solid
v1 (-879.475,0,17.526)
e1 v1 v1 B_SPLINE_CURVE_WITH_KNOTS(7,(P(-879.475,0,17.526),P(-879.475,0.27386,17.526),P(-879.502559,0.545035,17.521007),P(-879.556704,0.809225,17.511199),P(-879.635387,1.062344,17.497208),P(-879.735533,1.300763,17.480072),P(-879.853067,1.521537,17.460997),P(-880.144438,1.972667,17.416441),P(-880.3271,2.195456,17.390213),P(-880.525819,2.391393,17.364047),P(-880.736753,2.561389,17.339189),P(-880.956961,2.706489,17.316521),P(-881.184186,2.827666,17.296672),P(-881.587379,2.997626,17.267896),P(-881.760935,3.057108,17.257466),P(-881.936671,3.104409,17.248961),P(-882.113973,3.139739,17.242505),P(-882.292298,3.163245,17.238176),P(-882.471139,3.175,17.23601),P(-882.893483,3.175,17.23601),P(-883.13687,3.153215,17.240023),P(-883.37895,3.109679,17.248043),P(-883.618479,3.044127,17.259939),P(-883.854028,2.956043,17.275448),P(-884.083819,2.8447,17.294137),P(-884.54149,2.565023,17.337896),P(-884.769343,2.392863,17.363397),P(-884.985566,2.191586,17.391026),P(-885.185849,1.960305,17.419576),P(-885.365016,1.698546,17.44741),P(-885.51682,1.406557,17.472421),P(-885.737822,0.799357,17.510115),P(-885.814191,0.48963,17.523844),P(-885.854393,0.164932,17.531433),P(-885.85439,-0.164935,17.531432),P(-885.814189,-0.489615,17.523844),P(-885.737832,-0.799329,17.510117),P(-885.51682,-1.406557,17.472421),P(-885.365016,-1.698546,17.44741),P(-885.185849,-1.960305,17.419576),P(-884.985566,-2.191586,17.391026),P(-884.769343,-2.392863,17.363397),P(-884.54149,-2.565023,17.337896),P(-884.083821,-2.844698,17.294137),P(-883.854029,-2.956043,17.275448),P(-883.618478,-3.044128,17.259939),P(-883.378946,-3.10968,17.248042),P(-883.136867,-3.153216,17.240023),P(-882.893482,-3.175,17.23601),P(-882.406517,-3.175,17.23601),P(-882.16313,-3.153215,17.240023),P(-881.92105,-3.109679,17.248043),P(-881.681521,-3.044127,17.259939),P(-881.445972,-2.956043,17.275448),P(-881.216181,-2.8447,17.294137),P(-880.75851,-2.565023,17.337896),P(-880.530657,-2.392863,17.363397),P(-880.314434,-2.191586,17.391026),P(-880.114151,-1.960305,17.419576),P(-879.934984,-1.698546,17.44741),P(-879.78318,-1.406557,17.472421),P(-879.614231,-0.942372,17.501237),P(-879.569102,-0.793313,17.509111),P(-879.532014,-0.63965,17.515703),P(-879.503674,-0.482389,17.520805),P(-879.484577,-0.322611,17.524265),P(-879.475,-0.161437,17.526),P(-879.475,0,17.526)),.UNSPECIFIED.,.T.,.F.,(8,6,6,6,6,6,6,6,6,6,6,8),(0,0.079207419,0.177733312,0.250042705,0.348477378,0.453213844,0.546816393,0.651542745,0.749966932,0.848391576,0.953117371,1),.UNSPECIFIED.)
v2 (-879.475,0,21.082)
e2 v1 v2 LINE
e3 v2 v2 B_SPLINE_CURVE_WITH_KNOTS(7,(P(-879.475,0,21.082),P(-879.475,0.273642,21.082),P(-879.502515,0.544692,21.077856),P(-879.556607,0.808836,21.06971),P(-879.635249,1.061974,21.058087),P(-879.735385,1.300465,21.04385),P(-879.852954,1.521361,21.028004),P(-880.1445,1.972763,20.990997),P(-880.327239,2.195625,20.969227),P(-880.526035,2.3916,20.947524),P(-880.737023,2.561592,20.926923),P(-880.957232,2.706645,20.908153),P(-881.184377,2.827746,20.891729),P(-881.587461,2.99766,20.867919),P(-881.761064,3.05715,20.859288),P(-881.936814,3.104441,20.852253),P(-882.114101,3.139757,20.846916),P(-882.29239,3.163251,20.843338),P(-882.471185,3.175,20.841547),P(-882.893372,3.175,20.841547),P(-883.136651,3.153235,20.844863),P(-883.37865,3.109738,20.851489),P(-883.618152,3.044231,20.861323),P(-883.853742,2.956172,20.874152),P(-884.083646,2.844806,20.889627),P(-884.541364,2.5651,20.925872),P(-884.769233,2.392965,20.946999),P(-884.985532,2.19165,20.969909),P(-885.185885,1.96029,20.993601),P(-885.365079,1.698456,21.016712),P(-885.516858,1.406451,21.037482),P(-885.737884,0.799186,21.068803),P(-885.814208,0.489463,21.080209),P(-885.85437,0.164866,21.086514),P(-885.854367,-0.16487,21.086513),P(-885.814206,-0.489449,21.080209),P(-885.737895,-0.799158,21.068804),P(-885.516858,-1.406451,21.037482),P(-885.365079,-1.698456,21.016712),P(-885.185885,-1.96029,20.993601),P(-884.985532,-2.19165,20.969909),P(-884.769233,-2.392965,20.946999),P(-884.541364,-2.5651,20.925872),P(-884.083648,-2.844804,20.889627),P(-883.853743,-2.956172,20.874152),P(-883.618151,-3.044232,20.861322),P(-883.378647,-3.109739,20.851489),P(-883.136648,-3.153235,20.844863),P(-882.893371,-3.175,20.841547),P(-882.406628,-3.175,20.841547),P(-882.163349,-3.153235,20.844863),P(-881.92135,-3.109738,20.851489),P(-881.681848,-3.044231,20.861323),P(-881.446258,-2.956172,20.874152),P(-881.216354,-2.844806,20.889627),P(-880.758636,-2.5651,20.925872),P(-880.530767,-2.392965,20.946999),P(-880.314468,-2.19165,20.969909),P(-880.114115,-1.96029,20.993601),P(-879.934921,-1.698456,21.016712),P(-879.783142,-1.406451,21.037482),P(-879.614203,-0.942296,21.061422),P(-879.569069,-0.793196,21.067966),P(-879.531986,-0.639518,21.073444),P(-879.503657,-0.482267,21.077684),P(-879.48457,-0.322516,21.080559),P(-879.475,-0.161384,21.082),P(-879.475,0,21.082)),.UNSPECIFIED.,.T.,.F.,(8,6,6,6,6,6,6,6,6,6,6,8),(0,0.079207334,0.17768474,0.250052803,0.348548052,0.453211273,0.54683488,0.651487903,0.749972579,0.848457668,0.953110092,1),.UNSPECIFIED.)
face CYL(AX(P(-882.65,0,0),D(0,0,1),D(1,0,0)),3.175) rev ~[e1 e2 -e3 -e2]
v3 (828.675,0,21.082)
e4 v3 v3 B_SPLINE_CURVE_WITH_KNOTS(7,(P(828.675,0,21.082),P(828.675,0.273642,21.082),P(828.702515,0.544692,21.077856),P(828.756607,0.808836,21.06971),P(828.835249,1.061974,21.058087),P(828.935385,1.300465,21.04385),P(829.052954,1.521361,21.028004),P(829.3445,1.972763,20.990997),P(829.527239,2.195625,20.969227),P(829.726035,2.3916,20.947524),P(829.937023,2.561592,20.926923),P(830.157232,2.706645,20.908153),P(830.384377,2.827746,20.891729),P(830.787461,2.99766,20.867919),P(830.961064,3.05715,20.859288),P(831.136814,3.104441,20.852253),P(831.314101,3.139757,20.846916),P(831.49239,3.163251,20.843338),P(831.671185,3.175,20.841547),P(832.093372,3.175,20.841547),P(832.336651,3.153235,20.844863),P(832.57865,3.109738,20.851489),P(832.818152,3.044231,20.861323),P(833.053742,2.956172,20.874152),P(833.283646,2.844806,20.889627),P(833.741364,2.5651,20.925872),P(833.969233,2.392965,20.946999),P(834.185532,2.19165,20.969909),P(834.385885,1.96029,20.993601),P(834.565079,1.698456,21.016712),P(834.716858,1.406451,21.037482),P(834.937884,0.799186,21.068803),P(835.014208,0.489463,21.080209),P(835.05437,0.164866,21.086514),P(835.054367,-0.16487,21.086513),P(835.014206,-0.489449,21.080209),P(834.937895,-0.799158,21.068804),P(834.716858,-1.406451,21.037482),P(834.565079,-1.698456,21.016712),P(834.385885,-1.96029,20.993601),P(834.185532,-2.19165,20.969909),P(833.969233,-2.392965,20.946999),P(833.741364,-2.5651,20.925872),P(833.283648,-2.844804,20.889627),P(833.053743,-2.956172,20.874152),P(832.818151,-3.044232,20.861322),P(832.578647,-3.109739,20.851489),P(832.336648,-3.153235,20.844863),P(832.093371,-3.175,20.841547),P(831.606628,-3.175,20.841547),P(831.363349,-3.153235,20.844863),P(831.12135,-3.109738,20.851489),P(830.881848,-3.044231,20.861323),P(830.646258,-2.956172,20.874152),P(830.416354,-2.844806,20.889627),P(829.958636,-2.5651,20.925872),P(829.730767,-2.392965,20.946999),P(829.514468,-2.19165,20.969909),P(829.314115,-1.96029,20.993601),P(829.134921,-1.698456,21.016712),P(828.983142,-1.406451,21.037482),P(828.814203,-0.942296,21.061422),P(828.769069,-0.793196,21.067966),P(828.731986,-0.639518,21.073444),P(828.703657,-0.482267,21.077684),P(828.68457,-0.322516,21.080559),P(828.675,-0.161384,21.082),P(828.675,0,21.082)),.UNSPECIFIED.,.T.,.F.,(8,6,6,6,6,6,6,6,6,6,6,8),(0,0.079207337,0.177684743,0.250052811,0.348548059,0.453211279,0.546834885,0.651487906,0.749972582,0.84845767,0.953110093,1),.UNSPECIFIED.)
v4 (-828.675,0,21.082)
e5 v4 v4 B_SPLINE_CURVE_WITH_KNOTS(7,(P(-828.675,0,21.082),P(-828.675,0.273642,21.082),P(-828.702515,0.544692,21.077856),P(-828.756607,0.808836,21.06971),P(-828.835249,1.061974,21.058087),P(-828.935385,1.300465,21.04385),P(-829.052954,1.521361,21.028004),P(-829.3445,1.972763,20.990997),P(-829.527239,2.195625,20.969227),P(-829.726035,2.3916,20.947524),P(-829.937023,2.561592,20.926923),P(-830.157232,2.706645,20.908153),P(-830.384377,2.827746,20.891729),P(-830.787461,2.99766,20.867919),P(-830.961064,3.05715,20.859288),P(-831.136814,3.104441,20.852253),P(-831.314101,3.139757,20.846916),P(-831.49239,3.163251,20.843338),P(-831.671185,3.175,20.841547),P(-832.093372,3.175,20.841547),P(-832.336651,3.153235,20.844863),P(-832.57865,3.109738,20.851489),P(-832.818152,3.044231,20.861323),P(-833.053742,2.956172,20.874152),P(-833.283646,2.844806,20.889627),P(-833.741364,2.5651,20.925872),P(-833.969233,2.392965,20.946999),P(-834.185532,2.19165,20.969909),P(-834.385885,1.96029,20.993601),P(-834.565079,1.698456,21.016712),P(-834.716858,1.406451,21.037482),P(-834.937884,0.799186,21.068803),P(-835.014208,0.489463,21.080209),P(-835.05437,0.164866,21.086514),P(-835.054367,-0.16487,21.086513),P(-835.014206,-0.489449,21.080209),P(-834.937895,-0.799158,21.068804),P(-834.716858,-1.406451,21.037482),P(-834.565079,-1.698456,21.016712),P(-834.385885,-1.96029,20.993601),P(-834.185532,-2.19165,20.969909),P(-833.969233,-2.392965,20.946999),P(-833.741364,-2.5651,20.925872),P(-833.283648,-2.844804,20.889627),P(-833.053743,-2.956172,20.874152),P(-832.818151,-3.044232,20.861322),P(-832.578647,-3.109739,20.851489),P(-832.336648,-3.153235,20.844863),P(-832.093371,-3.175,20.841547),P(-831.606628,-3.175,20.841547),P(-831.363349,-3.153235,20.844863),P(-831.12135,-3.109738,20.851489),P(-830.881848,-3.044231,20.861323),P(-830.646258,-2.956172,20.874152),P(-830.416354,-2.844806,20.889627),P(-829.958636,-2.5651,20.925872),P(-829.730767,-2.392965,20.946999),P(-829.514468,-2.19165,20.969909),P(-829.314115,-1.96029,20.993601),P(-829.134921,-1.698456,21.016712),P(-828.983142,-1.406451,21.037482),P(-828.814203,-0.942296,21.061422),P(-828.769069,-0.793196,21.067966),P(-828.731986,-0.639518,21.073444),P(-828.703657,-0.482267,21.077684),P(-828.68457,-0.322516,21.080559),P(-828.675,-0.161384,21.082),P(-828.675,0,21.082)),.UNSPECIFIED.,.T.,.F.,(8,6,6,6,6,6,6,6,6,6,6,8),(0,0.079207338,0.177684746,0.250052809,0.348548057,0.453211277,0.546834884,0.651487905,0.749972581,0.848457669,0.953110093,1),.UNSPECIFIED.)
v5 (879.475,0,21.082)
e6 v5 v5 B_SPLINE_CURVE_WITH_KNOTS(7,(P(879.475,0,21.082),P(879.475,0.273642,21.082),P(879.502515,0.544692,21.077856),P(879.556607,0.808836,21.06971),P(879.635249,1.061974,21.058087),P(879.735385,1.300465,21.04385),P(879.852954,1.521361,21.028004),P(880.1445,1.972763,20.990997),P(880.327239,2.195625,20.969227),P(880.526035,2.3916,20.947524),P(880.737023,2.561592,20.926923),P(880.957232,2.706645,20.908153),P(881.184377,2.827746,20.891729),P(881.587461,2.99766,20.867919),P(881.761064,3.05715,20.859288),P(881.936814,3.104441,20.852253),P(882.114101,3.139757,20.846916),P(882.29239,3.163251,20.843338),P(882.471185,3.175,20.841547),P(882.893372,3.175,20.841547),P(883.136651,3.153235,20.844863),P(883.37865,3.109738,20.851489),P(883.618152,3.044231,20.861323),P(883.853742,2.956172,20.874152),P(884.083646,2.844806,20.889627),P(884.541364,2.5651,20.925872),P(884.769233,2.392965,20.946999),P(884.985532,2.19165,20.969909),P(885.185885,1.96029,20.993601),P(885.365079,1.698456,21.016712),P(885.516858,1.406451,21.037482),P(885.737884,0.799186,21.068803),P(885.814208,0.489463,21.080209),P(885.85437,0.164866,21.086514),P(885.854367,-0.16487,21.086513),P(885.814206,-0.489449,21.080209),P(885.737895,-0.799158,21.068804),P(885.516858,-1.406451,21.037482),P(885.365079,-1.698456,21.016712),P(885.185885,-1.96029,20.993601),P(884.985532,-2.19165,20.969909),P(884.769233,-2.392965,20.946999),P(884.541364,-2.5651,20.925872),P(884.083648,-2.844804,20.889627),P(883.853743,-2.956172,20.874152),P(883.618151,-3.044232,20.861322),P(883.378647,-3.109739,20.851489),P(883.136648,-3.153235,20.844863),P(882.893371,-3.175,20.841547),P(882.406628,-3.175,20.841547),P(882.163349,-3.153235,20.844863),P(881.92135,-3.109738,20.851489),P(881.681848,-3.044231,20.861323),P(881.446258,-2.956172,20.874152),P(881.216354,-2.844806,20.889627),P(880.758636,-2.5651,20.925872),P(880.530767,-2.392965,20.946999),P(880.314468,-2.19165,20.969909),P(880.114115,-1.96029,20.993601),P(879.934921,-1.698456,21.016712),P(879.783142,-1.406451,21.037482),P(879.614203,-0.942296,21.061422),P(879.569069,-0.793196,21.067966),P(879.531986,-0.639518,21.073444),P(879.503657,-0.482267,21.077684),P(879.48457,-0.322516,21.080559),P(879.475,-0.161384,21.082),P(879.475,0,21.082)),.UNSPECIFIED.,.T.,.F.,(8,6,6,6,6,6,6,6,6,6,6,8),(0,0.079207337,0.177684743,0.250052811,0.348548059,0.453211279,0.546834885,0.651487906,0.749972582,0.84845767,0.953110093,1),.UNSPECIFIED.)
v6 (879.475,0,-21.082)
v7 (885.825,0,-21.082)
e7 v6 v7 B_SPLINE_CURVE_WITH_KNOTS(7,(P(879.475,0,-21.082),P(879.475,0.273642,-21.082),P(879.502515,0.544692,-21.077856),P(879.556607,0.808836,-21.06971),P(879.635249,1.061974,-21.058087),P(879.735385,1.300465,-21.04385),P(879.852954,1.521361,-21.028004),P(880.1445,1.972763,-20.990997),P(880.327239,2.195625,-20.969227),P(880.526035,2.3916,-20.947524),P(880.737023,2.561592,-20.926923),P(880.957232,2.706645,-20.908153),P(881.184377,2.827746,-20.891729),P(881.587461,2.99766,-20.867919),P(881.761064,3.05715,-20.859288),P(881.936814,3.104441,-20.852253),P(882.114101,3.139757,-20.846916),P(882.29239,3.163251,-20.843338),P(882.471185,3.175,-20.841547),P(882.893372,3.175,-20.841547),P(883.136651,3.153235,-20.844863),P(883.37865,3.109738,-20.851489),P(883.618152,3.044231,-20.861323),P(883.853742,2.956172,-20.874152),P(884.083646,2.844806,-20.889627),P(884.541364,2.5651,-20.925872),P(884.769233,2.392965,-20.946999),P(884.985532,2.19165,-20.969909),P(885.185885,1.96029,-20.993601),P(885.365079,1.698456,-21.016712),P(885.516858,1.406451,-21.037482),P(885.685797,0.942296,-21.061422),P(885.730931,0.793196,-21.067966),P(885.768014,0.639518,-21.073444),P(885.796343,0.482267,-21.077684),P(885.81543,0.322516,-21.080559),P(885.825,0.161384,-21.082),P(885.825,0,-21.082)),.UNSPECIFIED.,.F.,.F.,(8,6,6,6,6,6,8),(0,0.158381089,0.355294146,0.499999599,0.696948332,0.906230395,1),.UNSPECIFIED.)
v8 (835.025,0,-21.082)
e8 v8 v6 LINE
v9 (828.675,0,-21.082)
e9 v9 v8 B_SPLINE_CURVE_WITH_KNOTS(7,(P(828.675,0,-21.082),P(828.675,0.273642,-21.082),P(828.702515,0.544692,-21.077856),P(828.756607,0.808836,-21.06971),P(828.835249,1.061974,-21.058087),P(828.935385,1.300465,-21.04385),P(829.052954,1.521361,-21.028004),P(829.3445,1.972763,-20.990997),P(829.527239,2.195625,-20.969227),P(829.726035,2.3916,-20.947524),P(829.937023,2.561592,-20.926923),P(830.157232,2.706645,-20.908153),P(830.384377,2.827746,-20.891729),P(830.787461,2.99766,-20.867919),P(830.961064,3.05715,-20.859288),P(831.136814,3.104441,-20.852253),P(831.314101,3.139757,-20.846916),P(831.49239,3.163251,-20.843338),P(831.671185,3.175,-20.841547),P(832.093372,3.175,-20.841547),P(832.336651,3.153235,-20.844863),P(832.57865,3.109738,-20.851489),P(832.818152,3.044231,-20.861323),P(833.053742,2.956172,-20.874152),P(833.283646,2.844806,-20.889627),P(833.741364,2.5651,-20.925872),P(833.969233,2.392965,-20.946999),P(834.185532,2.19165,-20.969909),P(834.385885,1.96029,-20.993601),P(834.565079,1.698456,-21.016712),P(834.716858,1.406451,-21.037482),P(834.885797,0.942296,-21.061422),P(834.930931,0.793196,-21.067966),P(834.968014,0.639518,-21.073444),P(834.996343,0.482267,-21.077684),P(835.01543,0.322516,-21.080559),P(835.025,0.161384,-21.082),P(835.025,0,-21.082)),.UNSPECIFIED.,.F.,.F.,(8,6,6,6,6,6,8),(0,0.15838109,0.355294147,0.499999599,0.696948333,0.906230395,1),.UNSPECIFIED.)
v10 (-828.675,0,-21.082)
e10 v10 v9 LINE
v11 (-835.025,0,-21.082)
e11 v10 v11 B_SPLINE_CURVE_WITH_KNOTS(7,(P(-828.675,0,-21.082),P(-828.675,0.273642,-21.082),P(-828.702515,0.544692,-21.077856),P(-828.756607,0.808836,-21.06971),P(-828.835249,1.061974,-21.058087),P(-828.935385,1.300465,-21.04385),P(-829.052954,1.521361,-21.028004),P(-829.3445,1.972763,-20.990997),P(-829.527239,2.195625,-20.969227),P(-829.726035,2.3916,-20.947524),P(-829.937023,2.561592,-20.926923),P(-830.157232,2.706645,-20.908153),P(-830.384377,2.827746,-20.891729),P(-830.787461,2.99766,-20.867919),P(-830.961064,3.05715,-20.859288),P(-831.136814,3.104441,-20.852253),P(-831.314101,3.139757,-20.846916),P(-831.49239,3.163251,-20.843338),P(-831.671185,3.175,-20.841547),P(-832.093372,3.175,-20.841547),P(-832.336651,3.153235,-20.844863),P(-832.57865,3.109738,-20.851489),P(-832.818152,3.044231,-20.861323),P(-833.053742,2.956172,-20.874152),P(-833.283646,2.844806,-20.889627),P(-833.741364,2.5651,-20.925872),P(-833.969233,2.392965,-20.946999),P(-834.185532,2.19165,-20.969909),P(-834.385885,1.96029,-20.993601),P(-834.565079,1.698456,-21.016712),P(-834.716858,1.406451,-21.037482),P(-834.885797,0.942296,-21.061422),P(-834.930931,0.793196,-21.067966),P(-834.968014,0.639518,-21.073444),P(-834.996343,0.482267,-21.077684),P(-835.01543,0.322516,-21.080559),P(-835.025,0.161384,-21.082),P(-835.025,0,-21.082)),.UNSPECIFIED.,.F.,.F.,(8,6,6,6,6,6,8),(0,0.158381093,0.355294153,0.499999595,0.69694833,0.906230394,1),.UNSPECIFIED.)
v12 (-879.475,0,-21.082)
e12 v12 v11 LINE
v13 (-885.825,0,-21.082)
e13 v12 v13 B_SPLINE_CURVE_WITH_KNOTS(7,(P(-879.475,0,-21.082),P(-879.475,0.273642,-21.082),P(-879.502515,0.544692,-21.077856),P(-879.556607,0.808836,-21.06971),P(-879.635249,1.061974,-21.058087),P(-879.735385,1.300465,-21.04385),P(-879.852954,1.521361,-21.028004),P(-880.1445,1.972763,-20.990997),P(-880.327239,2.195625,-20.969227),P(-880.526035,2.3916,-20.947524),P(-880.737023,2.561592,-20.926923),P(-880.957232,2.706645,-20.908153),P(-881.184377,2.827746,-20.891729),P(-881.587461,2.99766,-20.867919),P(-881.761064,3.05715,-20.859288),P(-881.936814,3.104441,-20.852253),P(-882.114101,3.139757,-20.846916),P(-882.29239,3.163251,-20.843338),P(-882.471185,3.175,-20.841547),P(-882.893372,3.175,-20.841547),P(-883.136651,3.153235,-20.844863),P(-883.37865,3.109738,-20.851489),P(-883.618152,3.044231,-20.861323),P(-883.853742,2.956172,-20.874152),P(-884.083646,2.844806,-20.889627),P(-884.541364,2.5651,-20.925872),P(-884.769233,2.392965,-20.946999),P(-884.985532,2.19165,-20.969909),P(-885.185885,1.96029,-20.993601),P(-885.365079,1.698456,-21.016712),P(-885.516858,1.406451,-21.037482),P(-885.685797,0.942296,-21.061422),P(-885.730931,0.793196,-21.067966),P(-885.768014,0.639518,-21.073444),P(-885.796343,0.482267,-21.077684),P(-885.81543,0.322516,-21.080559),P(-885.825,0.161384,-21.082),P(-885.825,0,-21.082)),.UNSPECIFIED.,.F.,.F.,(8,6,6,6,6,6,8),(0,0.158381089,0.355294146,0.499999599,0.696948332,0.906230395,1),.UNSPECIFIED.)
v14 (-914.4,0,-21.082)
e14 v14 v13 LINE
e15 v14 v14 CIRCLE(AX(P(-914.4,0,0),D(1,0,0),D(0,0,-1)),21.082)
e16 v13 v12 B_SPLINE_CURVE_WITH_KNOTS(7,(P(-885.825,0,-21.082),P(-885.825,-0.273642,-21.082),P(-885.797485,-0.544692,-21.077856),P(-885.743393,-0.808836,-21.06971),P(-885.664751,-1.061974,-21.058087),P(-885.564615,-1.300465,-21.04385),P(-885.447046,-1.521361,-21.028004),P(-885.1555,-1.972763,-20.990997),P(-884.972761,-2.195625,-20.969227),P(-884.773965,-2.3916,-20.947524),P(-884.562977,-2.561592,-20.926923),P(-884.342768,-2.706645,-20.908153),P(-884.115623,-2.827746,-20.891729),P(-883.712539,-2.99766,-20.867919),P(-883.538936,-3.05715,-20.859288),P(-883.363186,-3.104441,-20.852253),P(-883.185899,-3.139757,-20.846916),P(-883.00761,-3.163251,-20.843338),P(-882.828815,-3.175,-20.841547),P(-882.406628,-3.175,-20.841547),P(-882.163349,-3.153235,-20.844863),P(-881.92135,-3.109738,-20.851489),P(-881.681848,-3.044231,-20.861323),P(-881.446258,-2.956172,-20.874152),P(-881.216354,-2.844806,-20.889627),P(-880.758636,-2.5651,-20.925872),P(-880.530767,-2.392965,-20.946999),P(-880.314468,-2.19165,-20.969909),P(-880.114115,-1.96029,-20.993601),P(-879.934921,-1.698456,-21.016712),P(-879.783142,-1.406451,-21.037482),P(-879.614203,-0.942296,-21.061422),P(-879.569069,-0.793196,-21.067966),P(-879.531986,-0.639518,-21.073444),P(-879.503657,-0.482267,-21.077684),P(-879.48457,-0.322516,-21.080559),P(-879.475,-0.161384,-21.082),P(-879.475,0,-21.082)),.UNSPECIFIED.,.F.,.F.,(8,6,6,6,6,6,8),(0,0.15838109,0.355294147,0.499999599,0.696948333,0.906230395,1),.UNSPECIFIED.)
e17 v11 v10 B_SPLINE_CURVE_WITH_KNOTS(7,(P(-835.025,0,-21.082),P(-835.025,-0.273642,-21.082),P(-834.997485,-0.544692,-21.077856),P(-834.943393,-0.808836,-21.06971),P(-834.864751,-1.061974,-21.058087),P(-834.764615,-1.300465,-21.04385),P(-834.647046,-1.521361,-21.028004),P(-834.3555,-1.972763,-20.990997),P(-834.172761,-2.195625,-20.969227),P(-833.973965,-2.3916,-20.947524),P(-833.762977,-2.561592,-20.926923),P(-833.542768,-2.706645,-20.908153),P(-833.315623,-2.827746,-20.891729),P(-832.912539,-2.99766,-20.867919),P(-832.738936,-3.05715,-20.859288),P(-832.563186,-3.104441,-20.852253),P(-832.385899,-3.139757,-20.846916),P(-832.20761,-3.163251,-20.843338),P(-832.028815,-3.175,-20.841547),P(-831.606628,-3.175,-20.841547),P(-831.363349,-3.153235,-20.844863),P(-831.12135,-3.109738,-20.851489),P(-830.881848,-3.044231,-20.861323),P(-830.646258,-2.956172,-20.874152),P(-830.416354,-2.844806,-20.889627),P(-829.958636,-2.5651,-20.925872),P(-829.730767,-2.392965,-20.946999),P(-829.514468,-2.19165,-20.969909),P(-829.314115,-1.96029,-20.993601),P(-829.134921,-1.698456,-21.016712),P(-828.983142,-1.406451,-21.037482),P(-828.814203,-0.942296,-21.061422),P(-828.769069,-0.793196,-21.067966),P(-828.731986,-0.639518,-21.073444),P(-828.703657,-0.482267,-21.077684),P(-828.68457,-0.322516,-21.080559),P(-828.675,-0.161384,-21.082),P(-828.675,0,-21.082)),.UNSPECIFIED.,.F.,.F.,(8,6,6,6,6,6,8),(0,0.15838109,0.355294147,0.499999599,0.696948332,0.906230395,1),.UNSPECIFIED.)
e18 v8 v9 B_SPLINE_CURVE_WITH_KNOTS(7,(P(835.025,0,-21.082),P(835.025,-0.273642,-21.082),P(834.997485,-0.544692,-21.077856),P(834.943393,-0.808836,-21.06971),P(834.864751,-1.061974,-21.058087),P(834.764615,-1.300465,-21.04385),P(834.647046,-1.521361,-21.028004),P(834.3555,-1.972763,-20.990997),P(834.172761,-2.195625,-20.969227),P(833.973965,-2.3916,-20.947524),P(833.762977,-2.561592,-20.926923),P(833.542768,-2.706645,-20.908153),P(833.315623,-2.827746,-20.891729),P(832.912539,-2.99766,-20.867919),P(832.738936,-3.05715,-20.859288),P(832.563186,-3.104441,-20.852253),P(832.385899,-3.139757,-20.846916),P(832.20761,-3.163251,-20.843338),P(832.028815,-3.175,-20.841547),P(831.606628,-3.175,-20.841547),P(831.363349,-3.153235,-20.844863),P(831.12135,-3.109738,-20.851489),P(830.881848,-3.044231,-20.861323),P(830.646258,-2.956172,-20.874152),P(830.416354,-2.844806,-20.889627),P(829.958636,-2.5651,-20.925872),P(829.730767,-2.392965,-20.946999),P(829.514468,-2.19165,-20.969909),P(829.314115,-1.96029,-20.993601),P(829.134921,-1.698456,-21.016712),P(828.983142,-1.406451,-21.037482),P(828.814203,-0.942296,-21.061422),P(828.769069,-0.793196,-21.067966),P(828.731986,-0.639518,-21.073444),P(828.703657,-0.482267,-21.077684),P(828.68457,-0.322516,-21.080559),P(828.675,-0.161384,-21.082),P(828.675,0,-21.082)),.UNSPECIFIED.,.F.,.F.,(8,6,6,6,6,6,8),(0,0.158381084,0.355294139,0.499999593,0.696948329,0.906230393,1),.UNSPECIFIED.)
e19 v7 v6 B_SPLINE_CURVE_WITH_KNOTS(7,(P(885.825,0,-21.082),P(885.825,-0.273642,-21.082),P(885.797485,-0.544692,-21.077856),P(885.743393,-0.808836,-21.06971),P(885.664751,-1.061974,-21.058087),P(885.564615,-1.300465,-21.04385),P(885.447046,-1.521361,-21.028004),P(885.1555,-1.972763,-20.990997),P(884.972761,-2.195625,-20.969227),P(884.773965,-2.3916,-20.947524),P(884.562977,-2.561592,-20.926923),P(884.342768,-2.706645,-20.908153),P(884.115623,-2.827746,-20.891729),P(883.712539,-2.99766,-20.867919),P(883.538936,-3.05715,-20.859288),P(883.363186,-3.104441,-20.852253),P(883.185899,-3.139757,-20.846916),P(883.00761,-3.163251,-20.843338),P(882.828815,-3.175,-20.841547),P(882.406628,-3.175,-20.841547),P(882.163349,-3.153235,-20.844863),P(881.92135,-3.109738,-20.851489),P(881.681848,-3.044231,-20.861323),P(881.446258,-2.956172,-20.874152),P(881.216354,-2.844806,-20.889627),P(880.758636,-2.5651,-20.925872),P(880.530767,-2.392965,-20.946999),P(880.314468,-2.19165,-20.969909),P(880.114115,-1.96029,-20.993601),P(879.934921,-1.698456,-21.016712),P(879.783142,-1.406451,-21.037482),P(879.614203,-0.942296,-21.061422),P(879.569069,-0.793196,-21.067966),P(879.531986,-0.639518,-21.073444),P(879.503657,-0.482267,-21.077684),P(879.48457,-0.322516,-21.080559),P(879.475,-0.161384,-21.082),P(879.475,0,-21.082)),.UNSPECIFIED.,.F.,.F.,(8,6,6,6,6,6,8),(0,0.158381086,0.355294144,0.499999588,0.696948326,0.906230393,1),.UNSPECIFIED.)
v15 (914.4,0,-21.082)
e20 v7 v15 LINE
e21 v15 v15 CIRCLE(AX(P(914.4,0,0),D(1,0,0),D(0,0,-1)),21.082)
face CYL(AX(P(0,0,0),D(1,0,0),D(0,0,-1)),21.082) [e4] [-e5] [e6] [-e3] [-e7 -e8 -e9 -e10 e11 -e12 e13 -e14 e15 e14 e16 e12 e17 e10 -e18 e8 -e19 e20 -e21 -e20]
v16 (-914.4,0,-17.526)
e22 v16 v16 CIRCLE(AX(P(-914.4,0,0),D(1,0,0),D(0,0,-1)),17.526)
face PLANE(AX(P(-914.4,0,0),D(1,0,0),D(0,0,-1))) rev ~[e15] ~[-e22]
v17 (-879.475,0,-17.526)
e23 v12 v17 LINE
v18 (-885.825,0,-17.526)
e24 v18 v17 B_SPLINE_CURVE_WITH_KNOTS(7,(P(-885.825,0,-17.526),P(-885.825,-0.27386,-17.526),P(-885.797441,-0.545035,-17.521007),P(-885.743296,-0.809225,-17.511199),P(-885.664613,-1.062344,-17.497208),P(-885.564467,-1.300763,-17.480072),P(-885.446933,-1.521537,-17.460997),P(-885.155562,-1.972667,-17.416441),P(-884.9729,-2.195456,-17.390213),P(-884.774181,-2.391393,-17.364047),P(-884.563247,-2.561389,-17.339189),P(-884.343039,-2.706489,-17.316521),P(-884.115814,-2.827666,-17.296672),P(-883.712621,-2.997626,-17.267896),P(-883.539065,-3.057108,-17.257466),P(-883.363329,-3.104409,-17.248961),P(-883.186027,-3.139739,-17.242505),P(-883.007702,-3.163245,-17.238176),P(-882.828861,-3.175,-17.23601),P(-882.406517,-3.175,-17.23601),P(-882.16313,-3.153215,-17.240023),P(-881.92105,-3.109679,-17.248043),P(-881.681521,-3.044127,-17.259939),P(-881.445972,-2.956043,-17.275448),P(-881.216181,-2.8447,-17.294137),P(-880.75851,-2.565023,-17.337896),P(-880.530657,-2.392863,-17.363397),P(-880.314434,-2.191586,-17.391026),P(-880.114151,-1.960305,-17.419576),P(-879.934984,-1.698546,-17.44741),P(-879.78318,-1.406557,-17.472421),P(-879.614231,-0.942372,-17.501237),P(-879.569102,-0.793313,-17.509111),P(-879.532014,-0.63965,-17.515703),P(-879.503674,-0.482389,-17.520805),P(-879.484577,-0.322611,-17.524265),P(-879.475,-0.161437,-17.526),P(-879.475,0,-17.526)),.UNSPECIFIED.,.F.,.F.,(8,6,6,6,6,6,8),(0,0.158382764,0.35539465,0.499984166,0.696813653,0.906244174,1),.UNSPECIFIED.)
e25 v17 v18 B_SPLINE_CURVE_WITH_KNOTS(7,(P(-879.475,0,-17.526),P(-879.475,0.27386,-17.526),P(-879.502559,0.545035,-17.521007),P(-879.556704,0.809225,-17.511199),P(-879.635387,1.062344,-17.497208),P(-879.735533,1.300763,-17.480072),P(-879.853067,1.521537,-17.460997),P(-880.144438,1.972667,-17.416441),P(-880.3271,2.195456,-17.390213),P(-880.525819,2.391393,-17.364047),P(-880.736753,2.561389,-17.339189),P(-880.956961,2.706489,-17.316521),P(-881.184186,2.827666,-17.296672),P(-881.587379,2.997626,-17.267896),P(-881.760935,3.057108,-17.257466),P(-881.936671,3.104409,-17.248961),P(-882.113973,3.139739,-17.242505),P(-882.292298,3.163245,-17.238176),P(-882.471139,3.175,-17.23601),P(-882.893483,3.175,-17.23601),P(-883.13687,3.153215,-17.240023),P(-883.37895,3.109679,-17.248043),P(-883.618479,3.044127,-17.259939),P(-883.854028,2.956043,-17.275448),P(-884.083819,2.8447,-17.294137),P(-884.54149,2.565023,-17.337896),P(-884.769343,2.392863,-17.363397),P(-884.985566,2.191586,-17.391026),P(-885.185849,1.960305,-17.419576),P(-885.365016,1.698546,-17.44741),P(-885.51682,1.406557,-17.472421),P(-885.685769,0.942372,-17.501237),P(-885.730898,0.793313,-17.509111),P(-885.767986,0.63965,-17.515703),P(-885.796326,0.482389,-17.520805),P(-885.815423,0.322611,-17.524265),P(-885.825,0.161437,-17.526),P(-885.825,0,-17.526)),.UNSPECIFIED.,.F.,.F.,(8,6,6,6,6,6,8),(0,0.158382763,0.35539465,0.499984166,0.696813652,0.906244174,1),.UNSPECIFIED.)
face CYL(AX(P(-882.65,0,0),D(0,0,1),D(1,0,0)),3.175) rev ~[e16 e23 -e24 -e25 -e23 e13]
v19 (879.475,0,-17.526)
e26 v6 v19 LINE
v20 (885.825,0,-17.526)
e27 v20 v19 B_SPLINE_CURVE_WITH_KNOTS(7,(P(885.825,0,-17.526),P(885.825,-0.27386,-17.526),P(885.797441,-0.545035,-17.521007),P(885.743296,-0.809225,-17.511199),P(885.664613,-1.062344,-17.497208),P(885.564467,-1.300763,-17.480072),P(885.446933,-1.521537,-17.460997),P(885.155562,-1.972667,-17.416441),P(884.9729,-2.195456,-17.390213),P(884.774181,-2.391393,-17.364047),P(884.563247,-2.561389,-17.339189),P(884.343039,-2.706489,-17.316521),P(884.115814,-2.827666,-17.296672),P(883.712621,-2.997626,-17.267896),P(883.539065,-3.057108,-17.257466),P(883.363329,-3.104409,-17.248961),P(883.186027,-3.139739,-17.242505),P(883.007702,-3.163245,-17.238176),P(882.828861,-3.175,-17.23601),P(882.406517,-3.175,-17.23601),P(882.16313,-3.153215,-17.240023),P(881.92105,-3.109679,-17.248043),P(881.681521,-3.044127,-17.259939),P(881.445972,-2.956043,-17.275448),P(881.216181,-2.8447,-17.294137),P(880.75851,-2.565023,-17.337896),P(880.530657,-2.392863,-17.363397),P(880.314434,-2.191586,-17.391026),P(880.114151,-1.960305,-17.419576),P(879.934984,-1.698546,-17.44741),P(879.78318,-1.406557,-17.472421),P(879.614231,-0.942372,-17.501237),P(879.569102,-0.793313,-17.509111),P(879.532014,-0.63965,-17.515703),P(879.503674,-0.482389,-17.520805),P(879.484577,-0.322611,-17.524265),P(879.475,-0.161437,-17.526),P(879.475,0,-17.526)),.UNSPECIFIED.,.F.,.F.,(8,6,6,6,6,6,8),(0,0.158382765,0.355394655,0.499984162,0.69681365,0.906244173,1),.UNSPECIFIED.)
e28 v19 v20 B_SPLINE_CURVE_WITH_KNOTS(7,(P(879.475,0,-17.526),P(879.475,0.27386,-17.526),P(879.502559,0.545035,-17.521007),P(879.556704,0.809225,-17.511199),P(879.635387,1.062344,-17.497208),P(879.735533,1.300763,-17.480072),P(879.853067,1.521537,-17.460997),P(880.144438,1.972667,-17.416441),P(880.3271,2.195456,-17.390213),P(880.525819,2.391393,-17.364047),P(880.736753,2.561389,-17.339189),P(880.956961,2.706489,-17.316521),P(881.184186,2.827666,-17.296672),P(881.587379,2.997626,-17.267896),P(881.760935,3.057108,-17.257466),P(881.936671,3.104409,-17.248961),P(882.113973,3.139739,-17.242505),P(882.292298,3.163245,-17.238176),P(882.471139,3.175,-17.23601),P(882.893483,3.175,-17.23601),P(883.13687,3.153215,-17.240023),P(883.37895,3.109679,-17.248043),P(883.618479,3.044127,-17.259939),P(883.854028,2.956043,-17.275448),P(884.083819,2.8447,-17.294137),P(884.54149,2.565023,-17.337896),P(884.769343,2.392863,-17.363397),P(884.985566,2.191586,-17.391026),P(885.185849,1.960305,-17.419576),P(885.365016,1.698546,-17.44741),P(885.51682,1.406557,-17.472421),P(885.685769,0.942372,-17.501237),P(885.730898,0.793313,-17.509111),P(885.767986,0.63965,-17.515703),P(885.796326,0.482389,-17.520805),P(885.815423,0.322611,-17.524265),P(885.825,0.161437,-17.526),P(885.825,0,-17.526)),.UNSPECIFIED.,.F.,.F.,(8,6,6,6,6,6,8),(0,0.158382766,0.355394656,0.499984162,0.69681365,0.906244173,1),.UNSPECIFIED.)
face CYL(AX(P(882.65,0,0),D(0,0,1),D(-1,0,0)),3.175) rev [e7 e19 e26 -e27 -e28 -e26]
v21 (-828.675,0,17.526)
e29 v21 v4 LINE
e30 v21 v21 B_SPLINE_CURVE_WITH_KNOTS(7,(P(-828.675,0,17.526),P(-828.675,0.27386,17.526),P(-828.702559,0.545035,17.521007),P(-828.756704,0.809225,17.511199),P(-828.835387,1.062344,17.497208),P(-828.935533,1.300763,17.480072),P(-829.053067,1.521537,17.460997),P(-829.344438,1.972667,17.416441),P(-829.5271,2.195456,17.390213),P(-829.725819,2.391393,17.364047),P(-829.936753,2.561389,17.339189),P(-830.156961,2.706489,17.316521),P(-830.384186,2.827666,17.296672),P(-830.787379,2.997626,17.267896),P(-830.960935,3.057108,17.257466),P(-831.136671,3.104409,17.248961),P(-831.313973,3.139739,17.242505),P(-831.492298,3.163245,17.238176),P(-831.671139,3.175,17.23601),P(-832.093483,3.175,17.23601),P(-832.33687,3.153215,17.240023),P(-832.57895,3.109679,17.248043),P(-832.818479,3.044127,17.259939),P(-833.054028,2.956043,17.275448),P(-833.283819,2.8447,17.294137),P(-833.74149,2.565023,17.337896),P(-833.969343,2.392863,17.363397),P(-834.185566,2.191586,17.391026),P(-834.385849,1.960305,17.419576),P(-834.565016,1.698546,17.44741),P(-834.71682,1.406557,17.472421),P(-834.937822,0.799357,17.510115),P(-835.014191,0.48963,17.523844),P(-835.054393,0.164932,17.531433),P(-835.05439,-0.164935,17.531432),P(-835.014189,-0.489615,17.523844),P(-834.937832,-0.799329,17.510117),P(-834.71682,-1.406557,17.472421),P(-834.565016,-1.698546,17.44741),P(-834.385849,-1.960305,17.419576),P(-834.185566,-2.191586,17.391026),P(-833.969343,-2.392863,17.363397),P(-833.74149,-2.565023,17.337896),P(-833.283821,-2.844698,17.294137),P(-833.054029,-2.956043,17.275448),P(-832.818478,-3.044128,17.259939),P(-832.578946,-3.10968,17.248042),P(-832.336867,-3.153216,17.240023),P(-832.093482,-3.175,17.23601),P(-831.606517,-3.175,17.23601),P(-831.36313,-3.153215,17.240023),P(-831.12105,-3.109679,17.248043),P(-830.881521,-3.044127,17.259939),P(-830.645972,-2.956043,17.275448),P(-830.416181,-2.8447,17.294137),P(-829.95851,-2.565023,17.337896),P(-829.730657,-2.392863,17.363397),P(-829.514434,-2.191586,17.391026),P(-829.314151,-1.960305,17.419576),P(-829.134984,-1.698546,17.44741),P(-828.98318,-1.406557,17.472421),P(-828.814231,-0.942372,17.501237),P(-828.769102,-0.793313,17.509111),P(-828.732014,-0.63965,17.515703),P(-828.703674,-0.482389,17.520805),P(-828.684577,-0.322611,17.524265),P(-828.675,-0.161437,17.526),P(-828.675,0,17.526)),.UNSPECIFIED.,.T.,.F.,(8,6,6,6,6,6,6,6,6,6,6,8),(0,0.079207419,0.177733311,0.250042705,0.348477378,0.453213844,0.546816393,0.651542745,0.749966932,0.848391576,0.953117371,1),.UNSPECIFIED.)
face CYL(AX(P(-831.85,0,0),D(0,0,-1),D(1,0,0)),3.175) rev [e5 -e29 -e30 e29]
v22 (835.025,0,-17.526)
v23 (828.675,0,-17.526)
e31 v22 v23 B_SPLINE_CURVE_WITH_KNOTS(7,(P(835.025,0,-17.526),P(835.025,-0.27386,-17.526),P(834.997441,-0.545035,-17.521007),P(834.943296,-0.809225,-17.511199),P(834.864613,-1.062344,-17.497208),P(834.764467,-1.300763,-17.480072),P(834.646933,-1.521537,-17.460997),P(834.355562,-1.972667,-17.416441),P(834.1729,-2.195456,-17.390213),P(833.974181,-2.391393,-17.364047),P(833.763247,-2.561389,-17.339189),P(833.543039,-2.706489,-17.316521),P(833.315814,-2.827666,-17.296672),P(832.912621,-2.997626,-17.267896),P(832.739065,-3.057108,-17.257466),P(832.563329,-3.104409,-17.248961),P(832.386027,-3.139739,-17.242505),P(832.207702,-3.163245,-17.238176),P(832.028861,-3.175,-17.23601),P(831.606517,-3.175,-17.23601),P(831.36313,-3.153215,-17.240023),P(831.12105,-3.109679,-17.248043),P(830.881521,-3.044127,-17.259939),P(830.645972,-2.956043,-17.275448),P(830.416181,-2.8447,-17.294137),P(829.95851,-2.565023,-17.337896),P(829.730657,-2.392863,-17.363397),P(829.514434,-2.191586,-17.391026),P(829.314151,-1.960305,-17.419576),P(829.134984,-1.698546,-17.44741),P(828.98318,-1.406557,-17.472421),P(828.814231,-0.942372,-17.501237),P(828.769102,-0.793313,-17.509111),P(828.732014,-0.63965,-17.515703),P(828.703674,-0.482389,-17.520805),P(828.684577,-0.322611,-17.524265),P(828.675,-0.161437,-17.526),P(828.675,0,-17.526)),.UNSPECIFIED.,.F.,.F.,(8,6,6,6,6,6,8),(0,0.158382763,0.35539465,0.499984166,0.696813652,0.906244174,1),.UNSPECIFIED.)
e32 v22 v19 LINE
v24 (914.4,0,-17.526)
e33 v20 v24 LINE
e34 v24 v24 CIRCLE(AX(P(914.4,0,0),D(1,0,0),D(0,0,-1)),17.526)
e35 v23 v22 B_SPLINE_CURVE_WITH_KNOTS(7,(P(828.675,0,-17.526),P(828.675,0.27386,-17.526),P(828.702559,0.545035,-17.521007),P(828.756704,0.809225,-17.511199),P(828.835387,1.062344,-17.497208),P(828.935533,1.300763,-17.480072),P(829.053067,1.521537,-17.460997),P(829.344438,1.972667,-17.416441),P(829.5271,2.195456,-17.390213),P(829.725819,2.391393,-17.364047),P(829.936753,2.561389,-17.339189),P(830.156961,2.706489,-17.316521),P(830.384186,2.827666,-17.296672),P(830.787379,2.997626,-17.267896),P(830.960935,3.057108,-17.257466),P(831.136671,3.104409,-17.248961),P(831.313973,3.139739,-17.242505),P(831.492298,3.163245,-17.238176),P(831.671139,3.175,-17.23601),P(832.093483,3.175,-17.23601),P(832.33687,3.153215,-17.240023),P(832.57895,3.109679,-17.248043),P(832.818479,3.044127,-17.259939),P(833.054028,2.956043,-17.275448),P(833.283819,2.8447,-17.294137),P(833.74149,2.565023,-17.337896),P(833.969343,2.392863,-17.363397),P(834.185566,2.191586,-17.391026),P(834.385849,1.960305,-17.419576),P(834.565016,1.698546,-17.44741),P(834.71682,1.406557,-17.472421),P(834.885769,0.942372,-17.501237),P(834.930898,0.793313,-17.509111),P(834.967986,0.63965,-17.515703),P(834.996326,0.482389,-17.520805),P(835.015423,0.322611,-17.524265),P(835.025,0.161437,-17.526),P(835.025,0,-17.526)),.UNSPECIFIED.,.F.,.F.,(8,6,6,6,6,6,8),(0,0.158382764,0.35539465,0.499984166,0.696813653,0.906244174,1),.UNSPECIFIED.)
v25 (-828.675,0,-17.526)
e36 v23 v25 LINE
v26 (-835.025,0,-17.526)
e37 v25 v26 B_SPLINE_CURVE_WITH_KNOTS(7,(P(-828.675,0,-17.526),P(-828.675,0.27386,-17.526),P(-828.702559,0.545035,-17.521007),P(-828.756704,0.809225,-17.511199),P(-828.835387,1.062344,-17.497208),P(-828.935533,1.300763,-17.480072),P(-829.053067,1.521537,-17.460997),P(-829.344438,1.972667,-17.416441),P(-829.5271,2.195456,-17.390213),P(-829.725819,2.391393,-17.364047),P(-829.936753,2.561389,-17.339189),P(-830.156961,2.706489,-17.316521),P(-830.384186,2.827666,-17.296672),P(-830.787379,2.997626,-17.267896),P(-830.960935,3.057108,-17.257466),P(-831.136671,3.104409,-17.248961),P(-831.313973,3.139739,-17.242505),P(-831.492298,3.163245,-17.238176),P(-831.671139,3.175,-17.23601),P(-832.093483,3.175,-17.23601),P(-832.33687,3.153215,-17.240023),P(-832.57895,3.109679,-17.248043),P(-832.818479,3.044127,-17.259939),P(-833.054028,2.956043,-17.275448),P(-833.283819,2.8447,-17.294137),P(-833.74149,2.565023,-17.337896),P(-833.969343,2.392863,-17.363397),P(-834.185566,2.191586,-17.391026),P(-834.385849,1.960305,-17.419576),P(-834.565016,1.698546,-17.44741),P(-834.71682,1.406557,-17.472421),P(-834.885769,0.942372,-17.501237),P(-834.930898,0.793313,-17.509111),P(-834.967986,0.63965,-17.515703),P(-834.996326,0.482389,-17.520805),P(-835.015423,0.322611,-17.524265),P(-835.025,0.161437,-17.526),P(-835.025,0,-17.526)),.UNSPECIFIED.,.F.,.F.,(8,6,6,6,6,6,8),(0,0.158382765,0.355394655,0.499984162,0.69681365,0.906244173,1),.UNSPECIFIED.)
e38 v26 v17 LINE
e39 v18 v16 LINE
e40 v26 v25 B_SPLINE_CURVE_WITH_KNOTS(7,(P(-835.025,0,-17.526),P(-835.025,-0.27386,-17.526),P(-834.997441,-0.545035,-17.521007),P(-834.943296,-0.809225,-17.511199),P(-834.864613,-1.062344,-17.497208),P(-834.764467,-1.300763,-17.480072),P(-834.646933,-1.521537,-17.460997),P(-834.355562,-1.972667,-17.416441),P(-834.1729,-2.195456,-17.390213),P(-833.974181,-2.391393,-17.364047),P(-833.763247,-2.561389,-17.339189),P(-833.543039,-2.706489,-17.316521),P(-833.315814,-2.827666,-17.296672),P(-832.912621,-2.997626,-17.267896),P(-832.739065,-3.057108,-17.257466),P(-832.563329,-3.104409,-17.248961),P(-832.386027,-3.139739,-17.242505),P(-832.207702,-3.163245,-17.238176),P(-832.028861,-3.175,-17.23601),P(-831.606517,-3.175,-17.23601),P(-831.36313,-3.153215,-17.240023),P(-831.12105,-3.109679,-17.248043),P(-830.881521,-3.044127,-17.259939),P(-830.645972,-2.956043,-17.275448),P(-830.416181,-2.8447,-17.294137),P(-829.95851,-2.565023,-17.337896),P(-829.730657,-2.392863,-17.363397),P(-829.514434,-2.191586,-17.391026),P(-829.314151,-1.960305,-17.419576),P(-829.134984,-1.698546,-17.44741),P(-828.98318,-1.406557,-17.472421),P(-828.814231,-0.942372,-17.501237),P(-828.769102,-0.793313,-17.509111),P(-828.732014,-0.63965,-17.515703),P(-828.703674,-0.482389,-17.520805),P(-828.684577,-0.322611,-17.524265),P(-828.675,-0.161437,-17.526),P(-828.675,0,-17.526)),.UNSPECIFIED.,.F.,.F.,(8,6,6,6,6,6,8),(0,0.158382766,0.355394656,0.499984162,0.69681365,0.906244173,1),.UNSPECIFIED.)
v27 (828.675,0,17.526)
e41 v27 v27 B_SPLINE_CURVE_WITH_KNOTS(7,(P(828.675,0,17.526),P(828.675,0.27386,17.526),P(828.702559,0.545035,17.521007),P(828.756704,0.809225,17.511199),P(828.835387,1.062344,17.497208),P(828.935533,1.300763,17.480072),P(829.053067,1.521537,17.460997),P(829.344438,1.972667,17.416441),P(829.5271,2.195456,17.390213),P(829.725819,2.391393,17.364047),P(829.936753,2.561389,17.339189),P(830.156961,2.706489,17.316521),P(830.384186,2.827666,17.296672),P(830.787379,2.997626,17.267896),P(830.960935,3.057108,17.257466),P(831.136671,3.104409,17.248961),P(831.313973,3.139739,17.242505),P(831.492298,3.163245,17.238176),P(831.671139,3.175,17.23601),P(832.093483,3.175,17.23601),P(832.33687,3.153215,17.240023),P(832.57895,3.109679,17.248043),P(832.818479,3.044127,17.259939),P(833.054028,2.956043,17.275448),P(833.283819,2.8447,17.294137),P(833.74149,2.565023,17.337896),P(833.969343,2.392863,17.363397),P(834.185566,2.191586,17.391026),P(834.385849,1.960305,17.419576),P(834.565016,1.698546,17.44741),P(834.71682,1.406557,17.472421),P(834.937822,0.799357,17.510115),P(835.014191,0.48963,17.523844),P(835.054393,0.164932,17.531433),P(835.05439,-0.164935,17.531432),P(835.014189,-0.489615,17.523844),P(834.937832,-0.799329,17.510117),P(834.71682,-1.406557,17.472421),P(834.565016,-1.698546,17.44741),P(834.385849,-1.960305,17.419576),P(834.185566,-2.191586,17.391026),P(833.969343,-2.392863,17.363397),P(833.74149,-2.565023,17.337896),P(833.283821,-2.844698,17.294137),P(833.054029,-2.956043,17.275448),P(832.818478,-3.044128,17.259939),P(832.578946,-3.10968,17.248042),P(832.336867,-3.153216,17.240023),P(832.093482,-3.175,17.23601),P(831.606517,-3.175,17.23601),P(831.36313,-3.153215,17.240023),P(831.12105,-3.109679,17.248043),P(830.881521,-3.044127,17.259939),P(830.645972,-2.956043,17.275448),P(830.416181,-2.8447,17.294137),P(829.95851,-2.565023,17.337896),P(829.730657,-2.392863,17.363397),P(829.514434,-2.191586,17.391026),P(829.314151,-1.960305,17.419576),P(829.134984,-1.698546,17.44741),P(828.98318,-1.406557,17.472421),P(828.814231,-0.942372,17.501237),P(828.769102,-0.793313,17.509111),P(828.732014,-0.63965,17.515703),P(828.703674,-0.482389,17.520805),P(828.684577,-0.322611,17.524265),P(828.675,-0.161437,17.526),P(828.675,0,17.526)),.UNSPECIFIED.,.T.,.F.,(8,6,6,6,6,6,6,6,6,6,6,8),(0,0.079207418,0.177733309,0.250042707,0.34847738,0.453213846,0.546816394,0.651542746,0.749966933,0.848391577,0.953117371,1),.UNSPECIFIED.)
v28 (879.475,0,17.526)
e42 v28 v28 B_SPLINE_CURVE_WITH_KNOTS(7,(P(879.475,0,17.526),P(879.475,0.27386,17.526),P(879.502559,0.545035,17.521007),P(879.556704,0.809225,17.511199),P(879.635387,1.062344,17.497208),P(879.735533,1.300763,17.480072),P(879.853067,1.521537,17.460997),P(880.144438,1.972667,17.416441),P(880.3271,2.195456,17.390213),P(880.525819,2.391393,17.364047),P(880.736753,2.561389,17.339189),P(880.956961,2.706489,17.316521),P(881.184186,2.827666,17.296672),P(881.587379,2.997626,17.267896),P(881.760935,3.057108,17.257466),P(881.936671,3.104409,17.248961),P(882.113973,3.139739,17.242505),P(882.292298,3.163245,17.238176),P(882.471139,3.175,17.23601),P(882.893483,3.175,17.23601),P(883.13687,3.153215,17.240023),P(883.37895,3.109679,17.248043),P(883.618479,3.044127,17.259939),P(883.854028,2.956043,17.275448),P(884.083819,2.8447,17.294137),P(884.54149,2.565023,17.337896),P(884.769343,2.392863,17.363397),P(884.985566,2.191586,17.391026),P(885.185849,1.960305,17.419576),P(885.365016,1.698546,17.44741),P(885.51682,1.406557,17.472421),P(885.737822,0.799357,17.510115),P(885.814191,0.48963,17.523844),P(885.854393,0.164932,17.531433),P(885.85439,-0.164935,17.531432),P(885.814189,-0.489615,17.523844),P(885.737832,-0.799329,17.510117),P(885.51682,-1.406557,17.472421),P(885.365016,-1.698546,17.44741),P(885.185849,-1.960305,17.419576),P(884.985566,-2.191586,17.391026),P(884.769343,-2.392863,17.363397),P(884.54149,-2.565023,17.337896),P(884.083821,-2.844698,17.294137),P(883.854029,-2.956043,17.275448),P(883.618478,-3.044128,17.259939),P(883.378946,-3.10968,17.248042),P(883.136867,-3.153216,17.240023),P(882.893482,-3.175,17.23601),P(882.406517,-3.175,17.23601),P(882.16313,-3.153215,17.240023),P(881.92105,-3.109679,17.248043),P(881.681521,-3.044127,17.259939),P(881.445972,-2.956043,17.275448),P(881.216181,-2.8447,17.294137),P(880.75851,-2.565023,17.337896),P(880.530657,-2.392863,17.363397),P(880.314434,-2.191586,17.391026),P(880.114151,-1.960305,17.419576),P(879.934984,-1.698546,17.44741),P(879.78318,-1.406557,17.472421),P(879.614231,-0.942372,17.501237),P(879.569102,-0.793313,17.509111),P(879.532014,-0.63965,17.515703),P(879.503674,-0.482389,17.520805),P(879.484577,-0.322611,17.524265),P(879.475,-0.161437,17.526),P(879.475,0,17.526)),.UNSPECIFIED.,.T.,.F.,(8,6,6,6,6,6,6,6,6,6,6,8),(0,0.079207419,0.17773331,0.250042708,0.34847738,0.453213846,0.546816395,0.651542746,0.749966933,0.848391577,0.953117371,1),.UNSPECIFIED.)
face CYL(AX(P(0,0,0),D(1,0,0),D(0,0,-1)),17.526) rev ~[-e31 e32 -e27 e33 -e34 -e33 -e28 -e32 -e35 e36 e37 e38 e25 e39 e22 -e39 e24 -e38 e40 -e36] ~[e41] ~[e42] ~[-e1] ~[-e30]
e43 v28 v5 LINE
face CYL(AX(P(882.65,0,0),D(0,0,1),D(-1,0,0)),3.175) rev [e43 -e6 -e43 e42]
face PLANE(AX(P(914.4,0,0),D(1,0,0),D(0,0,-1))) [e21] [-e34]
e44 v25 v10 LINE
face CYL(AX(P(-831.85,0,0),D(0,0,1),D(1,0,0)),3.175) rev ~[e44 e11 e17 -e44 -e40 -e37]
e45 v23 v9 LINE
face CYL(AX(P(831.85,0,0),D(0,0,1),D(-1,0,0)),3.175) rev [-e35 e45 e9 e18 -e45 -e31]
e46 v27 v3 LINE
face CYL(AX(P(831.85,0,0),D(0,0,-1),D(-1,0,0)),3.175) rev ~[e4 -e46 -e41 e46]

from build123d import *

# Parameters (mm, degrees)
SKETCH1_R                = 21.082
SKETCH1_R_2              = 17.526
BOSS_EXTRUDE1_DEPTH      = 914.4
BOSS_EXTRUDE1_DEPTH_BACK = 914.4
SKETCH2_R                = 3.175
CUT_EXTRUDE1_DEPTH       = 22.082


with BuildPart() as part:
    # Sketch1 → Boss-Extrude1 (new body, two sides)
    with BuildSketch(Plane(origin=(0, 0, 0), x_dir=(0, 0, -1), z_dir=(1, 0, 0))) as boss_extrude1_sk:
        Circle(SKETCH1_R)
        Circle(SKETCH1_R_2, mode=Mode.SUBTRACT)
    extrude(amount=BOSS_EXTRUDE1_DEPTH)
    extrude(boss_extrude1_sk.sketch, amount=-BOSS_EXTRUDE1_DEPTH_BACK)

    # Sketch2 → Cut-Extrude1 (cut, symmetric)
    with BuildSketch(Plane.XY):
        with Locations((-831.85, 0)):
            Circle(SKETCH2_R)
        with Locations((-882.65, 0)):
            Circle(SKETCH2_R)
    cut_extrude1 = extrude(amount=CUT_EXTRUDE1_DEPTH, both=True, mode=Mode.SUBTRACT)

    # Mirror1: Cut-Extrude1 across plane
    add(cut_extrude1.mirror(Plane(origin=(0, 0, 0), x_dir=(0, 0, 1), z_dir=(1, 0, 0))), mode=Mode.SUBTRACT)


solid = part.part
